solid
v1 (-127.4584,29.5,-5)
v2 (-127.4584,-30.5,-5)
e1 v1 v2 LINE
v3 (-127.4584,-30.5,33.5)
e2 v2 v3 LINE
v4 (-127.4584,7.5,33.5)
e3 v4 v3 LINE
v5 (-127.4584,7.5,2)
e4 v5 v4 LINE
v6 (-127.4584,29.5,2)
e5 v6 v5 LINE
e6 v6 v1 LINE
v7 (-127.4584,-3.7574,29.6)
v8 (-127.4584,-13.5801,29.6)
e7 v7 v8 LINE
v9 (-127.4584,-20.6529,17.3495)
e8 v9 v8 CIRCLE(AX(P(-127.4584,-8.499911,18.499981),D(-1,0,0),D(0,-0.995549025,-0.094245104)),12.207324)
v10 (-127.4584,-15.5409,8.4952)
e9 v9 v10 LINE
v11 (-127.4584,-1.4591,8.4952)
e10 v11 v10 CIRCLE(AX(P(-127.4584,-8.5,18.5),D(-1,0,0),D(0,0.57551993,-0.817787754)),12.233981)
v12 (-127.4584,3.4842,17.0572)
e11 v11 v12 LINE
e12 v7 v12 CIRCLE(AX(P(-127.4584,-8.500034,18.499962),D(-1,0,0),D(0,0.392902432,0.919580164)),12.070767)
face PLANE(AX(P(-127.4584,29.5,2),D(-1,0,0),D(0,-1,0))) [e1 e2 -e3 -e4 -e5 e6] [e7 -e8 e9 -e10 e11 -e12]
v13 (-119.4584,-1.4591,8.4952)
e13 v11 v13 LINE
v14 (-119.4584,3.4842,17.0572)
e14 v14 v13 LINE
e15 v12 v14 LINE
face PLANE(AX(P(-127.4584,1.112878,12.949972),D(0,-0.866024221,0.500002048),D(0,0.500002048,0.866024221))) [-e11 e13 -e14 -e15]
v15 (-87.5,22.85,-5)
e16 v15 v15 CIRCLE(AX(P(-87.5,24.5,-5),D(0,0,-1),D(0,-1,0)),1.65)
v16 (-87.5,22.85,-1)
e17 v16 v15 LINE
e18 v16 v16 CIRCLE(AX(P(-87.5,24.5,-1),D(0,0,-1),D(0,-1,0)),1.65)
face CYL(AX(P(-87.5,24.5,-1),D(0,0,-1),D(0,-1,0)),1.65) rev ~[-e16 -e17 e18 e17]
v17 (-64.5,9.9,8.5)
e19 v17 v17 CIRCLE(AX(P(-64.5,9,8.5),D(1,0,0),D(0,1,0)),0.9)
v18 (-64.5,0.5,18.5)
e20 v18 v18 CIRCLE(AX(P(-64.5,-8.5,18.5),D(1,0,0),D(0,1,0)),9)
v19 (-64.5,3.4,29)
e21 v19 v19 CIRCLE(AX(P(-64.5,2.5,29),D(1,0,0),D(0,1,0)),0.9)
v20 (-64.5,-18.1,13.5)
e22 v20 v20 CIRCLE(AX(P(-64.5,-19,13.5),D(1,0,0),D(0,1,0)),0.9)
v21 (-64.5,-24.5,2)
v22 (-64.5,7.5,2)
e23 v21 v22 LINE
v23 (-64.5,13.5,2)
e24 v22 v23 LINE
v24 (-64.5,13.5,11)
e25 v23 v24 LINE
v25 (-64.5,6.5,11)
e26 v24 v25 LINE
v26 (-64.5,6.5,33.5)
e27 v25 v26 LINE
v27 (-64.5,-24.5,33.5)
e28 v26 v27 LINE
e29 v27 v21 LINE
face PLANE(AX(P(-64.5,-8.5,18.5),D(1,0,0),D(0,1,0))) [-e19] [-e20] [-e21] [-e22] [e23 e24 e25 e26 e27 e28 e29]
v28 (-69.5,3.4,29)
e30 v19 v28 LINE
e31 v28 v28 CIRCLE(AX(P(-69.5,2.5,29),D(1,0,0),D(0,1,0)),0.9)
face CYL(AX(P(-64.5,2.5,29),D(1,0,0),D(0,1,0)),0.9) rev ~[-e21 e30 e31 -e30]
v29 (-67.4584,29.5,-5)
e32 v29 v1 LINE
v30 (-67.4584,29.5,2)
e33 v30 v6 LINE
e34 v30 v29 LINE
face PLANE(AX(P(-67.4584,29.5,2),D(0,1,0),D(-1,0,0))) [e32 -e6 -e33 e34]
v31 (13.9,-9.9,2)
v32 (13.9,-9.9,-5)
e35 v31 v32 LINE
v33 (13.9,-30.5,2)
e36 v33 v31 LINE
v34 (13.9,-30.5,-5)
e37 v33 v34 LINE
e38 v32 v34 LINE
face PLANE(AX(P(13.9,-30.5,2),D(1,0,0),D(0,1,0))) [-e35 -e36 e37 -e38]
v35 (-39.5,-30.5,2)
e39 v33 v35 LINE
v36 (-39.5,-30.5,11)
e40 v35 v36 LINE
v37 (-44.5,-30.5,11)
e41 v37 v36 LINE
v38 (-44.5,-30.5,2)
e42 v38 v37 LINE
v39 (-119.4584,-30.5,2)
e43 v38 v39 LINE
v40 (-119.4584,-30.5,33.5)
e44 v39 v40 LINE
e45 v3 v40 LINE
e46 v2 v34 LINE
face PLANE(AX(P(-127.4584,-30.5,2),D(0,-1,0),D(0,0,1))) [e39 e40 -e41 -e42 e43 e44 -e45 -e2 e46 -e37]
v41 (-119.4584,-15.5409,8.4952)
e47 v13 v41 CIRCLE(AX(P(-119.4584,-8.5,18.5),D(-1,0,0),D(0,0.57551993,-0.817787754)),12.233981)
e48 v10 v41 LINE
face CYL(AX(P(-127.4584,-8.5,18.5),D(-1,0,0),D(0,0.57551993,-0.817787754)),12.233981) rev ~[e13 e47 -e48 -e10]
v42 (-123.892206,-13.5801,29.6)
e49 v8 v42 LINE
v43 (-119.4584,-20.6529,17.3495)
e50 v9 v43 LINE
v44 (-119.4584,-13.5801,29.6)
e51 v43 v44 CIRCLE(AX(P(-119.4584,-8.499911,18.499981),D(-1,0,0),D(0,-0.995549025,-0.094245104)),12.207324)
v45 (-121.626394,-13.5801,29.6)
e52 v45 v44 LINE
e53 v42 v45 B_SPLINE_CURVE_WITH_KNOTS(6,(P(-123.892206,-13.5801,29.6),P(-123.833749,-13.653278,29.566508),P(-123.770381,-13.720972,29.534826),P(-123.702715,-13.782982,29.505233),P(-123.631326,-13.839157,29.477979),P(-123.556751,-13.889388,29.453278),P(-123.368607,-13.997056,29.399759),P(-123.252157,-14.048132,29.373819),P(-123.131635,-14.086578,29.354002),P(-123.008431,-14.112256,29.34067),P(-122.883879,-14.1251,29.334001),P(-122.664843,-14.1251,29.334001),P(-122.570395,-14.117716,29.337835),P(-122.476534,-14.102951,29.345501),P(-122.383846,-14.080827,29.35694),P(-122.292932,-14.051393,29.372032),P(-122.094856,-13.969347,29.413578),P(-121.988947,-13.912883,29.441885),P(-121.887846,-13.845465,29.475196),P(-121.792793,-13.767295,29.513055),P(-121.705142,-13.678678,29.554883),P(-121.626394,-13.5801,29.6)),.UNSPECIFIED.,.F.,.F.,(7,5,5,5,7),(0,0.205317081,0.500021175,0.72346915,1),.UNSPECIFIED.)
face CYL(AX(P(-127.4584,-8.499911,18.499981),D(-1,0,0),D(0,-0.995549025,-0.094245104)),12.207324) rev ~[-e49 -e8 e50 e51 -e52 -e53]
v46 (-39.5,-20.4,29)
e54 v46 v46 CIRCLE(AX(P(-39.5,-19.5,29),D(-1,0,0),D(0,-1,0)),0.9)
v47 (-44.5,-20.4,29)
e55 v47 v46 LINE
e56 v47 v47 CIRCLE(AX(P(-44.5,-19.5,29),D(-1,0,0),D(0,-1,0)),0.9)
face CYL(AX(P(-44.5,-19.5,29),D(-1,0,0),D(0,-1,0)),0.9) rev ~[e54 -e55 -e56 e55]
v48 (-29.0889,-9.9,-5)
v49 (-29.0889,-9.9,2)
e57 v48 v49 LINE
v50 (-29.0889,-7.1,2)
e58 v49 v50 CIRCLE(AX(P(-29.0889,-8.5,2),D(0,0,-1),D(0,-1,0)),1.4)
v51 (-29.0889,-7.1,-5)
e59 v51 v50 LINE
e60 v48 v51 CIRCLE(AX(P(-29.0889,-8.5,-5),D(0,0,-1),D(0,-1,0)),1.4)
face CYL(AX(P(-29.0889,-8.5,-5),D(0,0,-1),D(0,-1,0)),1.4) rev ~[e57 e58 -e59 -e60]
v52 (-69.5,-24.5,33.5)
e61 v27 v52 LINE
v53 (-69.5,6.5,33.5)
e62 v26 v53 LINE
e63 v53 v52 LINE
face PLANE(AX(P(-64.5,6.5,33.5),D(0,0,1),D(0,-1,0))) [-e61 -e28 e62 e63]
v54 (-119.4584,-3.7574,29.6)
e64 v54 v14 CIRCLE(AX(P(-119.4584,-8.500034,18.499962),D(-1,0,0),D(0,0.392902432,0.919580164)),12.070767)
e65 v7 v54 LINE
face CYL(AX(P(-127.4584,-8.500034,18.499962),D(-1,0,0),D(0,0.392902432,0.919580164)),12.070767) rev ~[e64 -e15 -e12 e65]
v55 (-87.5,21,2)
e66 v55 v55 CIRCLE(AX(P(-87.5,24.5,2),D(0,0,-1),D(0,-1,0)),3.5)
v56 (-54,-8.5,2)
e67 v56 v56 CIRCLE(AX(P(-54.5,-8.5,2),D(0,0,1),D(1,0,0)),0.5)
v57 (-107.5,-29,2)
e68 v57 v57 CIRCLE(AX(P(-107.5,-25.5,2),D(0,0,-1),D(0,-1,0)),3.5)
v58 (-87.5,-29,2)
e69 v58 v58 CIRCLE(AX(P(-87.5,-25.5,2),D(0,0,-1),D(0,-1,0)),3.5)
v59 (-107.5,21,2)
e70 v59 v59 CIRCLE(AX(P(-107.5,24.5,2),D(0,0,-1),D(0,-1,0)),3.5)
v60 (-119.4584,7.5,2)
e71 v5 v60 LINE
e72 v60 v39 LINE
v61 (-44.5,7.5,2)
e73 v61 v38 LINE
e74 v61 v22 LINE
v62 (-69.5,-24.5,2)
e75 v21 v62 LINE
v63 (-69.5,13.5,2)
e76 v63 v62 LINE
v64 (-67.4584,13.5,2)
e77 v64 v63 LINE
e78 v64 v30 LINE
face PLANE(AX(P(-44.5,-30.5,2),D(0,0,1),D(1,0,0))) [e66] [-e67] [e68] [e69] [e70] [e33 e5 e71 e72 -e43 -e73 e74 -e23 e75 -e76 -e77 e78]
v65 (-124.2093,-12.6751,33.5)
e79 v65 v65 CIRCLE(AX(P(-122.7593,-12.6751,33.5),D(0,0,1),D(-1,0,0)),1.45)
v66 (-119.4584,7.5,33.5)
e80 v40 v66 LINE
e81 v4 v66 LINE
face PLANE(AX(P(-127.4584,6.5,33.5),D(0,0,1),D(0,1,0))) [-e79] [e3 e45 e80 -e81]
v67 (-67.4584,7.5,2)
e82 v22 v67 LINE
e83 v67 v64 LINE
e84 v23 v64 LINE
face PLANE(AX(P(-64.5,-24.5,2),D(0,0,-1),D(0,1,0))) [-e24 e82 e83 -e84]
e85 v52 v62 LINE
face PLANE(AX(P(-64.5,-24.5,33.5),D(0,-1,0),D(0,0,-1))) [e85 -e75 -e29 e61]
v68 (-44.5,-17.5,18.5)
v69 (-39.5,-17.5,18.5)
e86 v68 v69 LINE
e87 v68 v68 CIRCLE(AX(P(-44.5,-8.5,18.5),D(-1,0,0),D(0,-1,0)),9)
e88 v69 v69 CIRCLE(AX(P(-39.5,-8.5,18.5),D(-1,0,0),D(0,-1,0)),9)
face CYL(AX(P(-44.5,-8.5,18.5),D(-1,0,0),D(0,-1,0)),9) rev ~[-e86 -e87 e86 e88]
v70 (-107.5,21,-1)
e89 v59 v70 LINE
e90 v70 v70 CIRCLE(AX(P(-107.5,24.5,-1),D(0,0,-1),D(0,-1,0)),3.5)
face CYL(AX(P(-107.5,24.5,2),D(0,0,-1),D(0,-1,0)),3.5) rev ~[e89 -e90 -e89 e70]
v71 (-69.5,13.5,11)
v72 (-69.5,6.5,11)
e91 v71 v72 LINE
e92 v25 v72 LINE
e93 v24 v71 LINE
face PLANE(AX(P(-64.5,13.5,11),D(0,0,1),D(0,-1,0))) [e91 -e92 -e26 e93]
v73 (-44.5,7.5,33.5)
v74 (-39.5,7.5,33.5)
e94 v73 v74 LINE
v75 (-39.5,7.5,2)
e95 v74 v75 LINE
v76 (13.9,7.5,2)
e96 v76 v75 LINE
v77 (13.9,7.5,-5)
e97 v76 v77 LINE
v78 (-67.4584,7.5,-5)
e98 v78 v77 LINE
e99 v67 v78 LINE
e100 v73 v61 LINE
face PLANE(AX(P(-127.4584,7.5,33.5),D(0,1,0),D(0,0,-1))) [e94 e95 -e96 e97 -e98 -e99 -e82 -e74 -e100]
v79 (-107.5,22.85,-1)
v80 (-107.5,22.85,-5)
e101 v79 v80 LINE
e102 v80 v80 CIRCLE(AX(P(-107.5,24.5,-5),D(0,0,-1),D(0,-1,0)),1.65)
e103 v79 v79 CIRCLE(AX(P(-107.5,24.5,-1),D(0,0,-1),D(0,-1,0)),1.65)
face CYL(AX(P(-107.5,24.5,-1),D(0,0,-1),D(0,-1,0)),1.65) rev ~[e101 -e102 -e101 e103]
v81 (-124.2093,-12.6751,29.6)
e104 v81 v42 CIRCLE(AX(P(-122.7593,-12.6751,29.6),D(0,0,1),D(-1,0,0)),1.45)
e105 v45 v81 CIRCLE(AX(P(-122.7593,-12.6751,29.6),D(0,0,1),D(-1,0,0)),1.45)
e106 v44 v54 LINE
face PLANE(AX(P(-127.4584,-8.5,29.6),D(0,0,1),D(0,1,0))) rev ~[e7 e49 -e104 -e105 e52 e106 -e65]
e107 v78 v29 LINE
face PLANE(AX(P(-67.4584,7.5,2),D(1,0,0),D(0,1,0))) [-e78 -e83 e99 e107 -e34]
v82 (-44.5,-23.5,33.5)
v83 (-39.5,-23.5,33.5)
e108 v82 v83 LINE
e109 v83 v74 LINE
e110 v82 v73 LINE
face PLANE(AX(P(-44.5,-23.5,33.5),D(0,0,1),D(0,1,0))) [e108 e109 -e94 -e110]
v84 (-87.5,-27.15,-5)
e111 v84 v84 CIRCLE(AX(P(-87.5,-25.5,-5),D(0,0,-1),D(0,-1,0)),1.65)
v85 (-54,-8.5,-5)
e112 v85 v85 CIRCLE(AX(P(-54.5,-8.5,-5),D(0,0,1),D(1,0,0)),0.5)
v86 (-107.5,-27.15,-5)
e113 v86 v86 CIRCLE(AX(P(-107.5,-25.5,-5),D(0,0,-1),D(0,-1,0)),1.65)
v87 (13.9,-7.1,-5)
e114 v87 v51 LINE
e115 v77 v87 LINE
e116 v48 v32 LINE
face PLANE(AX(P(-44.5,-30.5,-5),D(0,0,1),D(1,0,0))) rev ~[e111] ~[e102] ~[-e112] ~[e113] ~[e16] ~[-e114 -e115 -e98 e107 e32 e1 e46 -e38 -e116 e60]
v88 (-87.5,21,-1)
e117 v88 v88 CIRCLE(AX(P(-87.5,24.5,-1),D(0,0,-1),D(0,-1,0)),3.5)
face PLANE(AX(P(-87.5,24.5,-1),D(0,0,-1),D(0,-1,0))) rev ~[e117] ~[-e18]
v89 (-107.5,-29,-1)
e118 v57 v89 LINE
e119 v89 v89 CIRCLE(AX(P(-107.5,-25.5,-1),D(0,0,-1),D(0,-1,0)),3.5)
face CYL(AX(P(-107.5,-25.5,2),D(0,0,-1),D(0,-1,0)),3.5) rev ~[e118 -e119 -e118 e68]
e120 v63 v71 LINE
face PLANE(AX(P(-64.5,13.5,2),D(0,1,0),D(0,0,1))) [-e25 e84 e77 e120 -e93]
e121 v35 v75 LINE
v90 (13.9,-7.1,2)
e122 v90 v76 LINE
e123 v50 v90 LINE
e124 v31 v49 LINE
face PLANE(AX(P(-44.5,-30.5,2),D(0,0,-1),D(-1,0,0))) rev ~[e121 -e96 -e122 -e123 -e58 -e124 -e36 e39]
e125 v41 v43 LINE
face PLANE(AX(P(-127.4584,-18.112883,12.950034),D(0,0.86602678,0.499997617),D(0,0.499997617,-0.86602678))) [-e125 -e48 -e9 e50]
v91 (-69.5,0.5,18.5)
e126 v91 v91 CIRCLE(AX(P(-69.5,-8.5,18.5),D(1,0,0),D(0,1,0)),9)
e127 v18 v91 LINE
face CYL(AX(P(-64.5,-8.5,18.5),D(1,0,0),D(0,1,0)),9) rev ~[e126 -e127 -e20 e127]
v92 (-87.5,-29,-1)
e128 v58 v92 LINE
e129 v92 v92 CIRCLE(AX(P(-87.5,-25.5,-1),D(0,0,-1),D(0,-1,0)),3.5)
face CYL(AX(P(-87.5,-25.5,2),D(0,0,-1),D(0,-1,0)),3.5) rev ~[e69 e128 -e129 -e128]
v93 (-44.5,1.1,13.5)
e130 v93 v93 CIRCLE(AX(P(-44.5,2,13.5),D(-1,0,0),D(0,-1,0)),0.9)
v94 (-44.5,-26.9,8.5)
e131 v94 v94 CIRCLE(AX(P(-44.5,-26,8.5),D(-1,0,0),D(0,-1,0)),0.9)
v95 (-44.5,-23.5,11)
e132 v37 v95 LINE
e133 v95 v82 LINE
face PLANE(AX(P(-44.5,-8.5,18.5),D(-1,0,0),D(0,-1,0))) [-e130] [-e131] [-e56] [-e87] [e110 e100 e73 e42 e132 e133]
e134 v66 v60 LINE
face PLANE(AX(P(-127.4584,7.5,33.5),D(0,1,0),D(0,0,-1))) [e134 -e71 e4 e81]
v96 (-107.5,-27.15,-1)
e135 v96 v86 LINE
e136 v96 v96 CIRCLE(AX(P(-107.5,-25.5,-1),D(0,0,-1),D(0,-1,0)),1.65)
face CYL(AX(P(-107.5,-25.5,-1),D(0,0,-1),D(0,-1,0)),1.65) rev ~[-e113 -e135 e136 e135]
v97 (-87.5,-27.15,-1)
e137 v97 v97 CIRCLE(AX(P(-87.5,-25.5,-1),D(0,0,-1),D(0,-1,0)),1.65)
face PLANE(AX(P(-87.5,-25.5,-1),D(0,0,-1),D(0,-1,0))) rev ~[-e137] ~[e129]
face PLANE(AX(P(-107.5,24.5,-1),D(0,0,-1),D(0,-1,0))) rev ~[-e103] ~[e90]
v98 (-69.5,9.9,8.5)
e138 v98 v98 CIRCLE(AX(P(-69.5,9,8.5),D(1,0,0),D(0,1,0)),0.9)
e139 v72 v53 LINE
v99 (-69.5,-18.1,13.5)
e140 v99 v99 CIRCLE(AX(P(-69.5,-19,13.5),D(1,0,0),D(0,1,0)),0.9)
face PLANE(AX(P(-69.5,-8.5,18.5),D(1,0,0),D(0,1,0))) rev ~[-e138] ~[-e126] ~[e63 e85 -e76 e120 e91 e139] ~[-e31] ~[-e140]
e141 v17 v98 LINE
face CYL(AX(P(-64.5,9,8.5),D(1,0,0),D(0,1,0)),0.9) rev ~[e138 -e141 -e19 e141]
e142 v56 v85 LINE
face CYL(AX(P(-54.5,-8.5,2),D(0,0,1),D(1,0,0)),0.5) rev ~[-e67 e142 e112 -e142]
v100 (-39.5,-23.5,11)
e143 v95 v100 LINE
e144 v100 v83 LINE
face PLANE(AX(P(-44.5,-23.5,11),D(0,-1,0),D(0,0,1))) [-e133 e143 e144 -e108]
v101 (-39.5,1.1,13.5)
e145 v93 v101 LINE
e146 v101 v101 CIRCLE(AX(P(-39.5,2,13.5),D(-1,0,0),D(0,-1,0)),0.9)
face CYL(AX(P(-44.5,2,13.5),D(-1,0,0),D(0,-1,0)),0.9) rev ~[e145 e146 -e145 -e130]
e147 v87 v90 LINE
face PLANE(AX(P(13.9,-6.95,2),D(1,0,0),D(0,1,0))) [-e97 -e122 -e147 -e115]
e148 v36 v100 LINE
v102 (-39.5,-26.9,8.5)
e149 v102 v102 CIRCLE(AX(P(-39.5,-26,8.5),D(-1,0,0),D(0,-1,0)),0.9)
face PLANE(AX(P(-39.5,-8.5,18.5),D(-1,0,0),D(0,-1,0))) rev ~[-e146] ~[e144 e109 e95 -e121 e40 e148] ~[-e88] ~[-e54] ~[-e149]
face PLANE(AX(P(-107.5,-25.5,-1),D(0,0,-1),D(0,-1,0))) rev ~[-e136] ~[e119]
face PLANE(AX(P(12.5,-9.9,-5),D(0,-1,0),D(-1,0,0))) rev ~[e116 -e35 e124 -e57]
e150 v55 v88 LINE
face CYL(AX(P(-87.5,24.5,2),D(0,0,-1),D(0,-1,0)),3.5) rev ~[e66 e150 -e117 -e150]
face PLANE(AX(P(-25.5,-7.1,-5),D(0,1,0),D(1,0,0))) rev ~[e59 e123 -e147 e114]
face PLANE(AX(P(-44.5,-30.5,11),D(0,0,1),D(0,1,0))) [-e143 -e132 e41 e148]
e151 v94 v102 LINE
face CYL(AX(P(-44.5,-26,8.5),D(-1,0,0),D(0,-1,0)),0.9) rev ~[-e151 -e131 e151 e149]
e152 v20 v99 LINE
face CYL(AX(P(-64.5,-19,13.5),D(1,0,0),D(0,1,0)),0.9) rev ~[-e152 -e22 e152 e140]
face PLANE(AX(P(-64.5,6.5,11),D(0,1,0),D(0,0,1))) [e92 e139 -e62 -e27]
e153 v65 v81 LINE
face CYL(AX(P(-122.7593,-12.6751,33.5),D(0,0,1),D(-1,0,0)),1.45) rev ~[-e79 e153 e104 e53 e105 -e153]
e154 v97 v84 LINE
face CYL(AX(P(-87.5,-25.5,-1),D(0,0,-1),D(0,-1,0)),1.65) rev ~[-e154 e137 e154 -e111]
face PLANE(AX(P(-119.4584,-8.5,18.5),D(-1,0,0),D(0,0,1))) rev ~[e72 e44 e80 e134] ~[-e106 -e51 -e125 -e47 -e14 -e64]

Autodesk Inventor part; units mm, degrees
ref_plane "YZ Plane" through (0, 0, 0) normal (1, 0, 0) x (0, 1, 0)
ref_plane "Work Plane10" through (-44.5, -14.2241, 18.7548) normal (1, 0, 0) x (0, -0.9087, 0.4175)
ref_plane "Work Plane11" through (-44.5, -8.5, 18.5) normal (-1, 0, 0) x (0, -1, 0)
sketch "Sketch9" plane through (-44.5, -8.5, 18.5) normal (-1, 0, 0) x (0, -1, 0)
  line L0 (16.8555, -12.7) -> (20, -12.7) construction
  circle A0 centre (17.5, -10) radius 1 construction
  circle A1 centre (11, 10.5) radius 1 construction
  circle A2 centre (-10.5, -5) radius 1 construction
  circle A3 centre (0, 0) radius 2.4142 construction
  line L1 (-15, 15) -> (15, 15) construction
  line L2 (16, -16) -> (-16, -16) construction
  line L3 (15, 15) -> (15, -15) construction
  line L4 (16, 16) -> (16, -16) construction
  line L5 (-16, -16) -> (-16, 16) construction
  line L6 (15, 15) -> (-16, 15)
  line L7 (-16, 15) -> (-16, -16.5)
  line L8 (-16, -16.5) -> (15, -16.5)
  line L9 (15, -16.5) -> (15, 15)
  circle A4 centre (11, 10.5) radius 0.9
  circle A5 centre (17.5, -10) radius 0.9
  circle A6 centre (-10.5, -5) radius 0.9
  circle A7 centre (0, 0) radius 9
  line L10 (15, -16.5) -> (22, -16.5)
  line L11 (22, -16.5) -> (22, -7.5)
  line L12 (22, -7.5) -> (15, -7.5)
  line L13 (15, -7.5) -> (15, -16.5)
  point P0 (-8.5, -18.5)
  dimension "d34" = 31.5
  dimension "d35" = 1.8
  dimension "d36" = 1.8
  dimension "d37" = 1.8
  dimension "d38" = 18
  dimension "d39" = 7
  dimension "d40" = 9
extrude "Extrusion7" add sketch "Sketch9" against normal blind 5
ref_plane "Work Plane12" through (-127.4584, -23.859, -5) normal (0, 0, 1) x (1, 0, 0)
sketch "Sketch10" plane through (-44.5, -30.5, 2) normal (0, 0, -1) x (-1, 0, 0)
  line L0 (0, 0) -> (0, 38) projected
  line L1 (0, 38) -> (-5, 38) projected
  line L2 (-5, 0) -> (-5, 38) projected
  line L3 (0, 0) -> (-5, 0) projected
  circle A0 centre (-19, 22) radius 1.4
  circle A1 centre (-57, 22) radius 1.4
  line L4 (82.9584, 8.641) -> (82.9584, 51.641)
  line L5 (-58.4, 38) -> (82.9584, 38)
  line L6 (82.9584, 38) -> (82.9584, 0)
  line L7 (82.9584, 0) -> (-58.4, 0)
  line L8 (-58.4, 0) -> (-58.4, 38)
  line L9 (-63.3254, 22) -> (-14.2903, 22) construction
  line L10 (-61.7754, 20.45) -> (-15.8403, 20.45)
  line L11 (-15.8403, 23.55) -> (-61.7754, 23.55)
  arc A2 (-61.7754, 23.55) -> (-61.7754, 20.45) centre (-61.7754, 22) ccw
  arc A3 (-15.8403, 20.45) -> (-15.8403, 23.55) centre (-15.8403, 22) ccw
  point P0 (-44.5, 30.5)
  point P1 (-38.8079, 22)
  dimension "d43" = 3.1
extrude "Extrusion8" add sketch "Sketch10" along normal up to surface (7 mm away) contours L3 L2 L1 L0 | L0 L5 L4 L6 L7 | L7 L8 L10 A3 L11 L5 L2 | L8 L11 A3 L10
sketch "Sketch11" plane through (-44.5, -30.5, -5) normal (0, 0, -1) x (-1, 0, 0)
  circle A0 centre (-57, 22) radius 1.4 projected
  circle A1 centre (-19, 22) radius 1.4 projected
  line L0 (-61.4468, 22) -> (-14.0111, 22) construction
  line L1 (-60.0468, 20.6) -> (-15.4111, 20.6)
  line L2 (-15.4111, 23.4) -> (-60.0468, 23.4)
  arc A2 (-60.0468, 23.4) -> (-60.0468, 20.6) centre (-60.0468, 22) ccw
  arc A3 (-15.4111, 20.6) -> (-15.4111, 23.4) centre (-15.4111, 22) ccw
  point P0 (-44.5, 30.5)
  point P1 (-58.4, 22)
  point P2 (-37.729, 22)
extrude "Extrusion9" cut sketch "Sketch11" against normal through all contours A0 | A0 L2 A1 L1 | A0 L1 A2 L2 | L2 A3 L1 A1
ref_plane "Work Plane13" through (-99.5, -8.5, 18.5) normal (-1, 0, 0) x (0, 0, 1)
sketch "Sketch12" plane through (-127.4584, -8.5, 18.5) normal (-1, 0, 0) x (0, 0, 1)
  circle A0 centre (0, 0) radius 10.125
  line L0 (-31.5, -12.684) -> (-23.5, -12.684)
  line L1 (-1.4, 6.6) -> (-6.6, 6.6)
  line L2 (-23.5, -22) -> (-23.5, 16) projected
  line L3 (-16.5, -22) -> (-23.5, -22) projected
  line L4 (-16.5, 16) -> (-16.5, -22) projected
  line L5 (-16.5, 16) -> (-23.5, 16) projected
  line L6 (15, 15) -> (15, -15)
  line L7 (-16.5, -22) -> (15, -22)
  line L8 (15, -22) -> (15, 16)
  line L9 (15, 16) -> (-16.5, 16)
  line L10 (-16.5, 16) -> (-16.5, -22)
  circle A1 centre (0, 0) radius 11.1
  line L11 (11.1, -5.0801) -> (11.1, 4.7426)
  line L12 (-1.1505, -12.1529) -> (-10.0048, -7.0409)
  line L13 (-10.0048, 7.0409) -> (-1.4428, 11.9842)
  arc A2 (-1.1505, -12.1529) -> (11.1, -5.0801) centre (0, 0) ccw
  arc A3 (11.1, 4.7426) -> (-1.4428, 11.9842) centre (0, 0) ccw
  arc A4 (-10.0048, 7.0409) -> (-10.0048, -7.0409) centre (0, 0) ccw
  point P0 (-18.5, 8.5)
  dimension "d51" = 60
  dimension "d52" = 60
  dimension "d73" = 22.2
extrude "Extrusion10" add sketch "Sketch12" against normal blind 8 contours L4 L9 L8 L6 L7
sketch "Sketch13" plane through (-127.4584, -30.5, 33.5) normal (0, 0, 1) x (-1, 0, 0)
  line L0 (0, -38) -> (0, 0) projected
  line L1 (0, -38) -> (-8, -38) projected
  line L2 (-8, -38) -> (-8, 0) projected
  line L3 (0, 0) -> (-8, 0) projected
  line L4 (6.7208, 32.125) -> (-12.4892, 32.125)
  circle A0 centre (-4.6991, -17.8249) radius 1.45
  point P0 (-127.4584, -30.5)
  dimension "d55" = 2.9
extrude "Extrusion11" cut sketch "Sketch13" against normal blind 8 contours A0
sketch "Sketch14" plane through (-44.5, -30.5, 2) normal (0, 0, 1) x (1, 0, 0)
  circle A0 centre (-63, 55) radius 1.45
  circle A1 centre (-43, 55) radius 1.45
  line L0 (-82.9584, 38) -> (-74.9584, 38) projected
  line L1 (-82.9584, 38) -> (58.4, 38) projected
  line L2 (-82.9584, 38) -> (-22.9584, 38)
  line L3 (-22.9584, 38) -> (-22.9584, 60)
  line L4 (-22.9584, 60) -> (-82.9584, 60)
  line L5 (-82.9584, 60) -> (-82.9584, 38)
  point P0 (44.5, 30.5)
  dimension "d71" = 60
  dimension "d72" = 22
ref_plane "Work Plane14" through (-127.4584, -23.859, -5) normal (0, 0, 1) x (1, 0, 0)
extrude "Extrusion12" add sketch "Sketch14" against normal up to surface (7 mm away)
sketch "Sketch15" plane through (-44.5, -30.5, 2) normal (0, 0, 1) x (1, 0, 0)
  line L0 (0, 38) -> (-22.9584, 38) projected
  line L1 (-82.9584, 60) -> (-82.9584, 38) projected
  line L2 (-74.9584, 0) -> (0, 0) projected
  line L3 (0, 0) -> (0, 38) projected
  line L4 (58.4, 20.6) -> (15.4111, 20.6) projected
  arc A0 (15.4111, 23.4) -> (15.4111, 20.6) centre (15.4111, 22) ccw projected
  line L5 (15.4111, 23.4) -> (58.4, 23.4) projected
  line L6 (58.4, 23.4) -> (58.4, 38) projected
  line L7 (5, 0) -> (5, 38) projected
  line L8 (5, 0) -> (58.4, 0) projected
  line L9 (58.4, 0) -> (58.4, 20.6) projected
  line L10 (-22.9584, 38) -> (-22.9584, 60) projected
  line L11 (-22.9584, 60) -> (-82.9584, 60) projected
  circle A1 centre (-63, 5) radius 1.45
  circle A2 centre (-43, 5) radius 1.45
  circle A3 centre (-43, 55) radius 1.45 projected
  circle A4 centre (-63, 55) radius 1.45 projected
  line L12 (58.4, 38) -> (5, 38) projected
  line L13 (-74.9584, 38) -> (-74.9584, 0) projected
  line L14 (-74.9584, 38) -> (-82.9584, 38) projected
  point P0 (44.5, 30.5)
  point P1 (-42.9584, 11.641)
  point P2 (-62.9584, 11.641)
hole "Hole3" at (-107.5, -25.5, 2) at (-87.5, -25.5, 2) at (-107.5, 24.5, 2) at (-87.5, 24.5, 2) direction (0, 0, -1) diameter 3.3 end through all counterbore diameter 7 counterbore depth 3
ref_plane "Work Plane15" through (-53.5, -8.5, 18.5) normal (-1, 0, 0) x (0, 0, 1)
sketch "Sketch17" plane through (-44.5, -30.5, 2) normal (0, 0, 1) x (1, 0, 0)
  circle A0 centre (-63, 55) radius 3.5 projected
  circle A1 centre (-63, 5) radius 3.5 projected
  circle A2 centre (-43, 5) radius 3.5 projected
  circle A3 centre (-43, 55) radius 3.5 projected
  line L0 (-74.9584, 0) -> (0, 0) projected
  line L1 (0, 0) -> (0, 38) projected
  line L2 (0, 38) -> (-22.9584, 38) projected
  line L3 (-22.9584, 38) -> (-22.9584, 60) projected
  line L4 (-22.9584, 60) -> (-82.9584, 60) projected
  line L5 (-82.9584, 60) -> (-82.9584, 38) projected
  line L6 (5, 31) -> (5, 13) projected
  line L7 (0, 13) -> (0, 31) projected
  circle A4 centre (-10, 22) radius 0.5
  line L8 (58.4, 20.6) -> (15.4111, 20.6) projected
  arc A5 (15.4111, 23.4) -> (15.4111, 20.6) centre (15.4111, 22) ccw projected
  line L9 (15.4111, 23.4) -> (58.4, 23.4) projected
  line L10 (58.4, 23.4) -> (58.4, 38) projected
  line L11 (5, 0) -> (5, 38) projected
  line L12 (5, 0) -> (58.4, 0) projected
  line L13 (58.4, 0) -> (58.4, 20.6) projected
  line L14 (58.4, 38) -> (5, 38) projected
  line L15 (-74.9584, 38) -> (-74.9584, 0) projected
  line L16 (-74.9584, 38) -> (-82.9584, 38) projected
  point P0 (44.5, 30.5)
  dimension "d78" = 1
  dimension "d85" = 10
extrude "Extrusion14" cut sketch "Sketch17" against normal blind 10 contours A4
pattern_circular "Circular Pattern1" count 2 over 360 about axis through (-54.5, -8.5, 2) along (0, 0, -1) of "Extrusion7"
properties part number "cellSTORM_inverted_Laser_10x_laserscanner_left_v2"
